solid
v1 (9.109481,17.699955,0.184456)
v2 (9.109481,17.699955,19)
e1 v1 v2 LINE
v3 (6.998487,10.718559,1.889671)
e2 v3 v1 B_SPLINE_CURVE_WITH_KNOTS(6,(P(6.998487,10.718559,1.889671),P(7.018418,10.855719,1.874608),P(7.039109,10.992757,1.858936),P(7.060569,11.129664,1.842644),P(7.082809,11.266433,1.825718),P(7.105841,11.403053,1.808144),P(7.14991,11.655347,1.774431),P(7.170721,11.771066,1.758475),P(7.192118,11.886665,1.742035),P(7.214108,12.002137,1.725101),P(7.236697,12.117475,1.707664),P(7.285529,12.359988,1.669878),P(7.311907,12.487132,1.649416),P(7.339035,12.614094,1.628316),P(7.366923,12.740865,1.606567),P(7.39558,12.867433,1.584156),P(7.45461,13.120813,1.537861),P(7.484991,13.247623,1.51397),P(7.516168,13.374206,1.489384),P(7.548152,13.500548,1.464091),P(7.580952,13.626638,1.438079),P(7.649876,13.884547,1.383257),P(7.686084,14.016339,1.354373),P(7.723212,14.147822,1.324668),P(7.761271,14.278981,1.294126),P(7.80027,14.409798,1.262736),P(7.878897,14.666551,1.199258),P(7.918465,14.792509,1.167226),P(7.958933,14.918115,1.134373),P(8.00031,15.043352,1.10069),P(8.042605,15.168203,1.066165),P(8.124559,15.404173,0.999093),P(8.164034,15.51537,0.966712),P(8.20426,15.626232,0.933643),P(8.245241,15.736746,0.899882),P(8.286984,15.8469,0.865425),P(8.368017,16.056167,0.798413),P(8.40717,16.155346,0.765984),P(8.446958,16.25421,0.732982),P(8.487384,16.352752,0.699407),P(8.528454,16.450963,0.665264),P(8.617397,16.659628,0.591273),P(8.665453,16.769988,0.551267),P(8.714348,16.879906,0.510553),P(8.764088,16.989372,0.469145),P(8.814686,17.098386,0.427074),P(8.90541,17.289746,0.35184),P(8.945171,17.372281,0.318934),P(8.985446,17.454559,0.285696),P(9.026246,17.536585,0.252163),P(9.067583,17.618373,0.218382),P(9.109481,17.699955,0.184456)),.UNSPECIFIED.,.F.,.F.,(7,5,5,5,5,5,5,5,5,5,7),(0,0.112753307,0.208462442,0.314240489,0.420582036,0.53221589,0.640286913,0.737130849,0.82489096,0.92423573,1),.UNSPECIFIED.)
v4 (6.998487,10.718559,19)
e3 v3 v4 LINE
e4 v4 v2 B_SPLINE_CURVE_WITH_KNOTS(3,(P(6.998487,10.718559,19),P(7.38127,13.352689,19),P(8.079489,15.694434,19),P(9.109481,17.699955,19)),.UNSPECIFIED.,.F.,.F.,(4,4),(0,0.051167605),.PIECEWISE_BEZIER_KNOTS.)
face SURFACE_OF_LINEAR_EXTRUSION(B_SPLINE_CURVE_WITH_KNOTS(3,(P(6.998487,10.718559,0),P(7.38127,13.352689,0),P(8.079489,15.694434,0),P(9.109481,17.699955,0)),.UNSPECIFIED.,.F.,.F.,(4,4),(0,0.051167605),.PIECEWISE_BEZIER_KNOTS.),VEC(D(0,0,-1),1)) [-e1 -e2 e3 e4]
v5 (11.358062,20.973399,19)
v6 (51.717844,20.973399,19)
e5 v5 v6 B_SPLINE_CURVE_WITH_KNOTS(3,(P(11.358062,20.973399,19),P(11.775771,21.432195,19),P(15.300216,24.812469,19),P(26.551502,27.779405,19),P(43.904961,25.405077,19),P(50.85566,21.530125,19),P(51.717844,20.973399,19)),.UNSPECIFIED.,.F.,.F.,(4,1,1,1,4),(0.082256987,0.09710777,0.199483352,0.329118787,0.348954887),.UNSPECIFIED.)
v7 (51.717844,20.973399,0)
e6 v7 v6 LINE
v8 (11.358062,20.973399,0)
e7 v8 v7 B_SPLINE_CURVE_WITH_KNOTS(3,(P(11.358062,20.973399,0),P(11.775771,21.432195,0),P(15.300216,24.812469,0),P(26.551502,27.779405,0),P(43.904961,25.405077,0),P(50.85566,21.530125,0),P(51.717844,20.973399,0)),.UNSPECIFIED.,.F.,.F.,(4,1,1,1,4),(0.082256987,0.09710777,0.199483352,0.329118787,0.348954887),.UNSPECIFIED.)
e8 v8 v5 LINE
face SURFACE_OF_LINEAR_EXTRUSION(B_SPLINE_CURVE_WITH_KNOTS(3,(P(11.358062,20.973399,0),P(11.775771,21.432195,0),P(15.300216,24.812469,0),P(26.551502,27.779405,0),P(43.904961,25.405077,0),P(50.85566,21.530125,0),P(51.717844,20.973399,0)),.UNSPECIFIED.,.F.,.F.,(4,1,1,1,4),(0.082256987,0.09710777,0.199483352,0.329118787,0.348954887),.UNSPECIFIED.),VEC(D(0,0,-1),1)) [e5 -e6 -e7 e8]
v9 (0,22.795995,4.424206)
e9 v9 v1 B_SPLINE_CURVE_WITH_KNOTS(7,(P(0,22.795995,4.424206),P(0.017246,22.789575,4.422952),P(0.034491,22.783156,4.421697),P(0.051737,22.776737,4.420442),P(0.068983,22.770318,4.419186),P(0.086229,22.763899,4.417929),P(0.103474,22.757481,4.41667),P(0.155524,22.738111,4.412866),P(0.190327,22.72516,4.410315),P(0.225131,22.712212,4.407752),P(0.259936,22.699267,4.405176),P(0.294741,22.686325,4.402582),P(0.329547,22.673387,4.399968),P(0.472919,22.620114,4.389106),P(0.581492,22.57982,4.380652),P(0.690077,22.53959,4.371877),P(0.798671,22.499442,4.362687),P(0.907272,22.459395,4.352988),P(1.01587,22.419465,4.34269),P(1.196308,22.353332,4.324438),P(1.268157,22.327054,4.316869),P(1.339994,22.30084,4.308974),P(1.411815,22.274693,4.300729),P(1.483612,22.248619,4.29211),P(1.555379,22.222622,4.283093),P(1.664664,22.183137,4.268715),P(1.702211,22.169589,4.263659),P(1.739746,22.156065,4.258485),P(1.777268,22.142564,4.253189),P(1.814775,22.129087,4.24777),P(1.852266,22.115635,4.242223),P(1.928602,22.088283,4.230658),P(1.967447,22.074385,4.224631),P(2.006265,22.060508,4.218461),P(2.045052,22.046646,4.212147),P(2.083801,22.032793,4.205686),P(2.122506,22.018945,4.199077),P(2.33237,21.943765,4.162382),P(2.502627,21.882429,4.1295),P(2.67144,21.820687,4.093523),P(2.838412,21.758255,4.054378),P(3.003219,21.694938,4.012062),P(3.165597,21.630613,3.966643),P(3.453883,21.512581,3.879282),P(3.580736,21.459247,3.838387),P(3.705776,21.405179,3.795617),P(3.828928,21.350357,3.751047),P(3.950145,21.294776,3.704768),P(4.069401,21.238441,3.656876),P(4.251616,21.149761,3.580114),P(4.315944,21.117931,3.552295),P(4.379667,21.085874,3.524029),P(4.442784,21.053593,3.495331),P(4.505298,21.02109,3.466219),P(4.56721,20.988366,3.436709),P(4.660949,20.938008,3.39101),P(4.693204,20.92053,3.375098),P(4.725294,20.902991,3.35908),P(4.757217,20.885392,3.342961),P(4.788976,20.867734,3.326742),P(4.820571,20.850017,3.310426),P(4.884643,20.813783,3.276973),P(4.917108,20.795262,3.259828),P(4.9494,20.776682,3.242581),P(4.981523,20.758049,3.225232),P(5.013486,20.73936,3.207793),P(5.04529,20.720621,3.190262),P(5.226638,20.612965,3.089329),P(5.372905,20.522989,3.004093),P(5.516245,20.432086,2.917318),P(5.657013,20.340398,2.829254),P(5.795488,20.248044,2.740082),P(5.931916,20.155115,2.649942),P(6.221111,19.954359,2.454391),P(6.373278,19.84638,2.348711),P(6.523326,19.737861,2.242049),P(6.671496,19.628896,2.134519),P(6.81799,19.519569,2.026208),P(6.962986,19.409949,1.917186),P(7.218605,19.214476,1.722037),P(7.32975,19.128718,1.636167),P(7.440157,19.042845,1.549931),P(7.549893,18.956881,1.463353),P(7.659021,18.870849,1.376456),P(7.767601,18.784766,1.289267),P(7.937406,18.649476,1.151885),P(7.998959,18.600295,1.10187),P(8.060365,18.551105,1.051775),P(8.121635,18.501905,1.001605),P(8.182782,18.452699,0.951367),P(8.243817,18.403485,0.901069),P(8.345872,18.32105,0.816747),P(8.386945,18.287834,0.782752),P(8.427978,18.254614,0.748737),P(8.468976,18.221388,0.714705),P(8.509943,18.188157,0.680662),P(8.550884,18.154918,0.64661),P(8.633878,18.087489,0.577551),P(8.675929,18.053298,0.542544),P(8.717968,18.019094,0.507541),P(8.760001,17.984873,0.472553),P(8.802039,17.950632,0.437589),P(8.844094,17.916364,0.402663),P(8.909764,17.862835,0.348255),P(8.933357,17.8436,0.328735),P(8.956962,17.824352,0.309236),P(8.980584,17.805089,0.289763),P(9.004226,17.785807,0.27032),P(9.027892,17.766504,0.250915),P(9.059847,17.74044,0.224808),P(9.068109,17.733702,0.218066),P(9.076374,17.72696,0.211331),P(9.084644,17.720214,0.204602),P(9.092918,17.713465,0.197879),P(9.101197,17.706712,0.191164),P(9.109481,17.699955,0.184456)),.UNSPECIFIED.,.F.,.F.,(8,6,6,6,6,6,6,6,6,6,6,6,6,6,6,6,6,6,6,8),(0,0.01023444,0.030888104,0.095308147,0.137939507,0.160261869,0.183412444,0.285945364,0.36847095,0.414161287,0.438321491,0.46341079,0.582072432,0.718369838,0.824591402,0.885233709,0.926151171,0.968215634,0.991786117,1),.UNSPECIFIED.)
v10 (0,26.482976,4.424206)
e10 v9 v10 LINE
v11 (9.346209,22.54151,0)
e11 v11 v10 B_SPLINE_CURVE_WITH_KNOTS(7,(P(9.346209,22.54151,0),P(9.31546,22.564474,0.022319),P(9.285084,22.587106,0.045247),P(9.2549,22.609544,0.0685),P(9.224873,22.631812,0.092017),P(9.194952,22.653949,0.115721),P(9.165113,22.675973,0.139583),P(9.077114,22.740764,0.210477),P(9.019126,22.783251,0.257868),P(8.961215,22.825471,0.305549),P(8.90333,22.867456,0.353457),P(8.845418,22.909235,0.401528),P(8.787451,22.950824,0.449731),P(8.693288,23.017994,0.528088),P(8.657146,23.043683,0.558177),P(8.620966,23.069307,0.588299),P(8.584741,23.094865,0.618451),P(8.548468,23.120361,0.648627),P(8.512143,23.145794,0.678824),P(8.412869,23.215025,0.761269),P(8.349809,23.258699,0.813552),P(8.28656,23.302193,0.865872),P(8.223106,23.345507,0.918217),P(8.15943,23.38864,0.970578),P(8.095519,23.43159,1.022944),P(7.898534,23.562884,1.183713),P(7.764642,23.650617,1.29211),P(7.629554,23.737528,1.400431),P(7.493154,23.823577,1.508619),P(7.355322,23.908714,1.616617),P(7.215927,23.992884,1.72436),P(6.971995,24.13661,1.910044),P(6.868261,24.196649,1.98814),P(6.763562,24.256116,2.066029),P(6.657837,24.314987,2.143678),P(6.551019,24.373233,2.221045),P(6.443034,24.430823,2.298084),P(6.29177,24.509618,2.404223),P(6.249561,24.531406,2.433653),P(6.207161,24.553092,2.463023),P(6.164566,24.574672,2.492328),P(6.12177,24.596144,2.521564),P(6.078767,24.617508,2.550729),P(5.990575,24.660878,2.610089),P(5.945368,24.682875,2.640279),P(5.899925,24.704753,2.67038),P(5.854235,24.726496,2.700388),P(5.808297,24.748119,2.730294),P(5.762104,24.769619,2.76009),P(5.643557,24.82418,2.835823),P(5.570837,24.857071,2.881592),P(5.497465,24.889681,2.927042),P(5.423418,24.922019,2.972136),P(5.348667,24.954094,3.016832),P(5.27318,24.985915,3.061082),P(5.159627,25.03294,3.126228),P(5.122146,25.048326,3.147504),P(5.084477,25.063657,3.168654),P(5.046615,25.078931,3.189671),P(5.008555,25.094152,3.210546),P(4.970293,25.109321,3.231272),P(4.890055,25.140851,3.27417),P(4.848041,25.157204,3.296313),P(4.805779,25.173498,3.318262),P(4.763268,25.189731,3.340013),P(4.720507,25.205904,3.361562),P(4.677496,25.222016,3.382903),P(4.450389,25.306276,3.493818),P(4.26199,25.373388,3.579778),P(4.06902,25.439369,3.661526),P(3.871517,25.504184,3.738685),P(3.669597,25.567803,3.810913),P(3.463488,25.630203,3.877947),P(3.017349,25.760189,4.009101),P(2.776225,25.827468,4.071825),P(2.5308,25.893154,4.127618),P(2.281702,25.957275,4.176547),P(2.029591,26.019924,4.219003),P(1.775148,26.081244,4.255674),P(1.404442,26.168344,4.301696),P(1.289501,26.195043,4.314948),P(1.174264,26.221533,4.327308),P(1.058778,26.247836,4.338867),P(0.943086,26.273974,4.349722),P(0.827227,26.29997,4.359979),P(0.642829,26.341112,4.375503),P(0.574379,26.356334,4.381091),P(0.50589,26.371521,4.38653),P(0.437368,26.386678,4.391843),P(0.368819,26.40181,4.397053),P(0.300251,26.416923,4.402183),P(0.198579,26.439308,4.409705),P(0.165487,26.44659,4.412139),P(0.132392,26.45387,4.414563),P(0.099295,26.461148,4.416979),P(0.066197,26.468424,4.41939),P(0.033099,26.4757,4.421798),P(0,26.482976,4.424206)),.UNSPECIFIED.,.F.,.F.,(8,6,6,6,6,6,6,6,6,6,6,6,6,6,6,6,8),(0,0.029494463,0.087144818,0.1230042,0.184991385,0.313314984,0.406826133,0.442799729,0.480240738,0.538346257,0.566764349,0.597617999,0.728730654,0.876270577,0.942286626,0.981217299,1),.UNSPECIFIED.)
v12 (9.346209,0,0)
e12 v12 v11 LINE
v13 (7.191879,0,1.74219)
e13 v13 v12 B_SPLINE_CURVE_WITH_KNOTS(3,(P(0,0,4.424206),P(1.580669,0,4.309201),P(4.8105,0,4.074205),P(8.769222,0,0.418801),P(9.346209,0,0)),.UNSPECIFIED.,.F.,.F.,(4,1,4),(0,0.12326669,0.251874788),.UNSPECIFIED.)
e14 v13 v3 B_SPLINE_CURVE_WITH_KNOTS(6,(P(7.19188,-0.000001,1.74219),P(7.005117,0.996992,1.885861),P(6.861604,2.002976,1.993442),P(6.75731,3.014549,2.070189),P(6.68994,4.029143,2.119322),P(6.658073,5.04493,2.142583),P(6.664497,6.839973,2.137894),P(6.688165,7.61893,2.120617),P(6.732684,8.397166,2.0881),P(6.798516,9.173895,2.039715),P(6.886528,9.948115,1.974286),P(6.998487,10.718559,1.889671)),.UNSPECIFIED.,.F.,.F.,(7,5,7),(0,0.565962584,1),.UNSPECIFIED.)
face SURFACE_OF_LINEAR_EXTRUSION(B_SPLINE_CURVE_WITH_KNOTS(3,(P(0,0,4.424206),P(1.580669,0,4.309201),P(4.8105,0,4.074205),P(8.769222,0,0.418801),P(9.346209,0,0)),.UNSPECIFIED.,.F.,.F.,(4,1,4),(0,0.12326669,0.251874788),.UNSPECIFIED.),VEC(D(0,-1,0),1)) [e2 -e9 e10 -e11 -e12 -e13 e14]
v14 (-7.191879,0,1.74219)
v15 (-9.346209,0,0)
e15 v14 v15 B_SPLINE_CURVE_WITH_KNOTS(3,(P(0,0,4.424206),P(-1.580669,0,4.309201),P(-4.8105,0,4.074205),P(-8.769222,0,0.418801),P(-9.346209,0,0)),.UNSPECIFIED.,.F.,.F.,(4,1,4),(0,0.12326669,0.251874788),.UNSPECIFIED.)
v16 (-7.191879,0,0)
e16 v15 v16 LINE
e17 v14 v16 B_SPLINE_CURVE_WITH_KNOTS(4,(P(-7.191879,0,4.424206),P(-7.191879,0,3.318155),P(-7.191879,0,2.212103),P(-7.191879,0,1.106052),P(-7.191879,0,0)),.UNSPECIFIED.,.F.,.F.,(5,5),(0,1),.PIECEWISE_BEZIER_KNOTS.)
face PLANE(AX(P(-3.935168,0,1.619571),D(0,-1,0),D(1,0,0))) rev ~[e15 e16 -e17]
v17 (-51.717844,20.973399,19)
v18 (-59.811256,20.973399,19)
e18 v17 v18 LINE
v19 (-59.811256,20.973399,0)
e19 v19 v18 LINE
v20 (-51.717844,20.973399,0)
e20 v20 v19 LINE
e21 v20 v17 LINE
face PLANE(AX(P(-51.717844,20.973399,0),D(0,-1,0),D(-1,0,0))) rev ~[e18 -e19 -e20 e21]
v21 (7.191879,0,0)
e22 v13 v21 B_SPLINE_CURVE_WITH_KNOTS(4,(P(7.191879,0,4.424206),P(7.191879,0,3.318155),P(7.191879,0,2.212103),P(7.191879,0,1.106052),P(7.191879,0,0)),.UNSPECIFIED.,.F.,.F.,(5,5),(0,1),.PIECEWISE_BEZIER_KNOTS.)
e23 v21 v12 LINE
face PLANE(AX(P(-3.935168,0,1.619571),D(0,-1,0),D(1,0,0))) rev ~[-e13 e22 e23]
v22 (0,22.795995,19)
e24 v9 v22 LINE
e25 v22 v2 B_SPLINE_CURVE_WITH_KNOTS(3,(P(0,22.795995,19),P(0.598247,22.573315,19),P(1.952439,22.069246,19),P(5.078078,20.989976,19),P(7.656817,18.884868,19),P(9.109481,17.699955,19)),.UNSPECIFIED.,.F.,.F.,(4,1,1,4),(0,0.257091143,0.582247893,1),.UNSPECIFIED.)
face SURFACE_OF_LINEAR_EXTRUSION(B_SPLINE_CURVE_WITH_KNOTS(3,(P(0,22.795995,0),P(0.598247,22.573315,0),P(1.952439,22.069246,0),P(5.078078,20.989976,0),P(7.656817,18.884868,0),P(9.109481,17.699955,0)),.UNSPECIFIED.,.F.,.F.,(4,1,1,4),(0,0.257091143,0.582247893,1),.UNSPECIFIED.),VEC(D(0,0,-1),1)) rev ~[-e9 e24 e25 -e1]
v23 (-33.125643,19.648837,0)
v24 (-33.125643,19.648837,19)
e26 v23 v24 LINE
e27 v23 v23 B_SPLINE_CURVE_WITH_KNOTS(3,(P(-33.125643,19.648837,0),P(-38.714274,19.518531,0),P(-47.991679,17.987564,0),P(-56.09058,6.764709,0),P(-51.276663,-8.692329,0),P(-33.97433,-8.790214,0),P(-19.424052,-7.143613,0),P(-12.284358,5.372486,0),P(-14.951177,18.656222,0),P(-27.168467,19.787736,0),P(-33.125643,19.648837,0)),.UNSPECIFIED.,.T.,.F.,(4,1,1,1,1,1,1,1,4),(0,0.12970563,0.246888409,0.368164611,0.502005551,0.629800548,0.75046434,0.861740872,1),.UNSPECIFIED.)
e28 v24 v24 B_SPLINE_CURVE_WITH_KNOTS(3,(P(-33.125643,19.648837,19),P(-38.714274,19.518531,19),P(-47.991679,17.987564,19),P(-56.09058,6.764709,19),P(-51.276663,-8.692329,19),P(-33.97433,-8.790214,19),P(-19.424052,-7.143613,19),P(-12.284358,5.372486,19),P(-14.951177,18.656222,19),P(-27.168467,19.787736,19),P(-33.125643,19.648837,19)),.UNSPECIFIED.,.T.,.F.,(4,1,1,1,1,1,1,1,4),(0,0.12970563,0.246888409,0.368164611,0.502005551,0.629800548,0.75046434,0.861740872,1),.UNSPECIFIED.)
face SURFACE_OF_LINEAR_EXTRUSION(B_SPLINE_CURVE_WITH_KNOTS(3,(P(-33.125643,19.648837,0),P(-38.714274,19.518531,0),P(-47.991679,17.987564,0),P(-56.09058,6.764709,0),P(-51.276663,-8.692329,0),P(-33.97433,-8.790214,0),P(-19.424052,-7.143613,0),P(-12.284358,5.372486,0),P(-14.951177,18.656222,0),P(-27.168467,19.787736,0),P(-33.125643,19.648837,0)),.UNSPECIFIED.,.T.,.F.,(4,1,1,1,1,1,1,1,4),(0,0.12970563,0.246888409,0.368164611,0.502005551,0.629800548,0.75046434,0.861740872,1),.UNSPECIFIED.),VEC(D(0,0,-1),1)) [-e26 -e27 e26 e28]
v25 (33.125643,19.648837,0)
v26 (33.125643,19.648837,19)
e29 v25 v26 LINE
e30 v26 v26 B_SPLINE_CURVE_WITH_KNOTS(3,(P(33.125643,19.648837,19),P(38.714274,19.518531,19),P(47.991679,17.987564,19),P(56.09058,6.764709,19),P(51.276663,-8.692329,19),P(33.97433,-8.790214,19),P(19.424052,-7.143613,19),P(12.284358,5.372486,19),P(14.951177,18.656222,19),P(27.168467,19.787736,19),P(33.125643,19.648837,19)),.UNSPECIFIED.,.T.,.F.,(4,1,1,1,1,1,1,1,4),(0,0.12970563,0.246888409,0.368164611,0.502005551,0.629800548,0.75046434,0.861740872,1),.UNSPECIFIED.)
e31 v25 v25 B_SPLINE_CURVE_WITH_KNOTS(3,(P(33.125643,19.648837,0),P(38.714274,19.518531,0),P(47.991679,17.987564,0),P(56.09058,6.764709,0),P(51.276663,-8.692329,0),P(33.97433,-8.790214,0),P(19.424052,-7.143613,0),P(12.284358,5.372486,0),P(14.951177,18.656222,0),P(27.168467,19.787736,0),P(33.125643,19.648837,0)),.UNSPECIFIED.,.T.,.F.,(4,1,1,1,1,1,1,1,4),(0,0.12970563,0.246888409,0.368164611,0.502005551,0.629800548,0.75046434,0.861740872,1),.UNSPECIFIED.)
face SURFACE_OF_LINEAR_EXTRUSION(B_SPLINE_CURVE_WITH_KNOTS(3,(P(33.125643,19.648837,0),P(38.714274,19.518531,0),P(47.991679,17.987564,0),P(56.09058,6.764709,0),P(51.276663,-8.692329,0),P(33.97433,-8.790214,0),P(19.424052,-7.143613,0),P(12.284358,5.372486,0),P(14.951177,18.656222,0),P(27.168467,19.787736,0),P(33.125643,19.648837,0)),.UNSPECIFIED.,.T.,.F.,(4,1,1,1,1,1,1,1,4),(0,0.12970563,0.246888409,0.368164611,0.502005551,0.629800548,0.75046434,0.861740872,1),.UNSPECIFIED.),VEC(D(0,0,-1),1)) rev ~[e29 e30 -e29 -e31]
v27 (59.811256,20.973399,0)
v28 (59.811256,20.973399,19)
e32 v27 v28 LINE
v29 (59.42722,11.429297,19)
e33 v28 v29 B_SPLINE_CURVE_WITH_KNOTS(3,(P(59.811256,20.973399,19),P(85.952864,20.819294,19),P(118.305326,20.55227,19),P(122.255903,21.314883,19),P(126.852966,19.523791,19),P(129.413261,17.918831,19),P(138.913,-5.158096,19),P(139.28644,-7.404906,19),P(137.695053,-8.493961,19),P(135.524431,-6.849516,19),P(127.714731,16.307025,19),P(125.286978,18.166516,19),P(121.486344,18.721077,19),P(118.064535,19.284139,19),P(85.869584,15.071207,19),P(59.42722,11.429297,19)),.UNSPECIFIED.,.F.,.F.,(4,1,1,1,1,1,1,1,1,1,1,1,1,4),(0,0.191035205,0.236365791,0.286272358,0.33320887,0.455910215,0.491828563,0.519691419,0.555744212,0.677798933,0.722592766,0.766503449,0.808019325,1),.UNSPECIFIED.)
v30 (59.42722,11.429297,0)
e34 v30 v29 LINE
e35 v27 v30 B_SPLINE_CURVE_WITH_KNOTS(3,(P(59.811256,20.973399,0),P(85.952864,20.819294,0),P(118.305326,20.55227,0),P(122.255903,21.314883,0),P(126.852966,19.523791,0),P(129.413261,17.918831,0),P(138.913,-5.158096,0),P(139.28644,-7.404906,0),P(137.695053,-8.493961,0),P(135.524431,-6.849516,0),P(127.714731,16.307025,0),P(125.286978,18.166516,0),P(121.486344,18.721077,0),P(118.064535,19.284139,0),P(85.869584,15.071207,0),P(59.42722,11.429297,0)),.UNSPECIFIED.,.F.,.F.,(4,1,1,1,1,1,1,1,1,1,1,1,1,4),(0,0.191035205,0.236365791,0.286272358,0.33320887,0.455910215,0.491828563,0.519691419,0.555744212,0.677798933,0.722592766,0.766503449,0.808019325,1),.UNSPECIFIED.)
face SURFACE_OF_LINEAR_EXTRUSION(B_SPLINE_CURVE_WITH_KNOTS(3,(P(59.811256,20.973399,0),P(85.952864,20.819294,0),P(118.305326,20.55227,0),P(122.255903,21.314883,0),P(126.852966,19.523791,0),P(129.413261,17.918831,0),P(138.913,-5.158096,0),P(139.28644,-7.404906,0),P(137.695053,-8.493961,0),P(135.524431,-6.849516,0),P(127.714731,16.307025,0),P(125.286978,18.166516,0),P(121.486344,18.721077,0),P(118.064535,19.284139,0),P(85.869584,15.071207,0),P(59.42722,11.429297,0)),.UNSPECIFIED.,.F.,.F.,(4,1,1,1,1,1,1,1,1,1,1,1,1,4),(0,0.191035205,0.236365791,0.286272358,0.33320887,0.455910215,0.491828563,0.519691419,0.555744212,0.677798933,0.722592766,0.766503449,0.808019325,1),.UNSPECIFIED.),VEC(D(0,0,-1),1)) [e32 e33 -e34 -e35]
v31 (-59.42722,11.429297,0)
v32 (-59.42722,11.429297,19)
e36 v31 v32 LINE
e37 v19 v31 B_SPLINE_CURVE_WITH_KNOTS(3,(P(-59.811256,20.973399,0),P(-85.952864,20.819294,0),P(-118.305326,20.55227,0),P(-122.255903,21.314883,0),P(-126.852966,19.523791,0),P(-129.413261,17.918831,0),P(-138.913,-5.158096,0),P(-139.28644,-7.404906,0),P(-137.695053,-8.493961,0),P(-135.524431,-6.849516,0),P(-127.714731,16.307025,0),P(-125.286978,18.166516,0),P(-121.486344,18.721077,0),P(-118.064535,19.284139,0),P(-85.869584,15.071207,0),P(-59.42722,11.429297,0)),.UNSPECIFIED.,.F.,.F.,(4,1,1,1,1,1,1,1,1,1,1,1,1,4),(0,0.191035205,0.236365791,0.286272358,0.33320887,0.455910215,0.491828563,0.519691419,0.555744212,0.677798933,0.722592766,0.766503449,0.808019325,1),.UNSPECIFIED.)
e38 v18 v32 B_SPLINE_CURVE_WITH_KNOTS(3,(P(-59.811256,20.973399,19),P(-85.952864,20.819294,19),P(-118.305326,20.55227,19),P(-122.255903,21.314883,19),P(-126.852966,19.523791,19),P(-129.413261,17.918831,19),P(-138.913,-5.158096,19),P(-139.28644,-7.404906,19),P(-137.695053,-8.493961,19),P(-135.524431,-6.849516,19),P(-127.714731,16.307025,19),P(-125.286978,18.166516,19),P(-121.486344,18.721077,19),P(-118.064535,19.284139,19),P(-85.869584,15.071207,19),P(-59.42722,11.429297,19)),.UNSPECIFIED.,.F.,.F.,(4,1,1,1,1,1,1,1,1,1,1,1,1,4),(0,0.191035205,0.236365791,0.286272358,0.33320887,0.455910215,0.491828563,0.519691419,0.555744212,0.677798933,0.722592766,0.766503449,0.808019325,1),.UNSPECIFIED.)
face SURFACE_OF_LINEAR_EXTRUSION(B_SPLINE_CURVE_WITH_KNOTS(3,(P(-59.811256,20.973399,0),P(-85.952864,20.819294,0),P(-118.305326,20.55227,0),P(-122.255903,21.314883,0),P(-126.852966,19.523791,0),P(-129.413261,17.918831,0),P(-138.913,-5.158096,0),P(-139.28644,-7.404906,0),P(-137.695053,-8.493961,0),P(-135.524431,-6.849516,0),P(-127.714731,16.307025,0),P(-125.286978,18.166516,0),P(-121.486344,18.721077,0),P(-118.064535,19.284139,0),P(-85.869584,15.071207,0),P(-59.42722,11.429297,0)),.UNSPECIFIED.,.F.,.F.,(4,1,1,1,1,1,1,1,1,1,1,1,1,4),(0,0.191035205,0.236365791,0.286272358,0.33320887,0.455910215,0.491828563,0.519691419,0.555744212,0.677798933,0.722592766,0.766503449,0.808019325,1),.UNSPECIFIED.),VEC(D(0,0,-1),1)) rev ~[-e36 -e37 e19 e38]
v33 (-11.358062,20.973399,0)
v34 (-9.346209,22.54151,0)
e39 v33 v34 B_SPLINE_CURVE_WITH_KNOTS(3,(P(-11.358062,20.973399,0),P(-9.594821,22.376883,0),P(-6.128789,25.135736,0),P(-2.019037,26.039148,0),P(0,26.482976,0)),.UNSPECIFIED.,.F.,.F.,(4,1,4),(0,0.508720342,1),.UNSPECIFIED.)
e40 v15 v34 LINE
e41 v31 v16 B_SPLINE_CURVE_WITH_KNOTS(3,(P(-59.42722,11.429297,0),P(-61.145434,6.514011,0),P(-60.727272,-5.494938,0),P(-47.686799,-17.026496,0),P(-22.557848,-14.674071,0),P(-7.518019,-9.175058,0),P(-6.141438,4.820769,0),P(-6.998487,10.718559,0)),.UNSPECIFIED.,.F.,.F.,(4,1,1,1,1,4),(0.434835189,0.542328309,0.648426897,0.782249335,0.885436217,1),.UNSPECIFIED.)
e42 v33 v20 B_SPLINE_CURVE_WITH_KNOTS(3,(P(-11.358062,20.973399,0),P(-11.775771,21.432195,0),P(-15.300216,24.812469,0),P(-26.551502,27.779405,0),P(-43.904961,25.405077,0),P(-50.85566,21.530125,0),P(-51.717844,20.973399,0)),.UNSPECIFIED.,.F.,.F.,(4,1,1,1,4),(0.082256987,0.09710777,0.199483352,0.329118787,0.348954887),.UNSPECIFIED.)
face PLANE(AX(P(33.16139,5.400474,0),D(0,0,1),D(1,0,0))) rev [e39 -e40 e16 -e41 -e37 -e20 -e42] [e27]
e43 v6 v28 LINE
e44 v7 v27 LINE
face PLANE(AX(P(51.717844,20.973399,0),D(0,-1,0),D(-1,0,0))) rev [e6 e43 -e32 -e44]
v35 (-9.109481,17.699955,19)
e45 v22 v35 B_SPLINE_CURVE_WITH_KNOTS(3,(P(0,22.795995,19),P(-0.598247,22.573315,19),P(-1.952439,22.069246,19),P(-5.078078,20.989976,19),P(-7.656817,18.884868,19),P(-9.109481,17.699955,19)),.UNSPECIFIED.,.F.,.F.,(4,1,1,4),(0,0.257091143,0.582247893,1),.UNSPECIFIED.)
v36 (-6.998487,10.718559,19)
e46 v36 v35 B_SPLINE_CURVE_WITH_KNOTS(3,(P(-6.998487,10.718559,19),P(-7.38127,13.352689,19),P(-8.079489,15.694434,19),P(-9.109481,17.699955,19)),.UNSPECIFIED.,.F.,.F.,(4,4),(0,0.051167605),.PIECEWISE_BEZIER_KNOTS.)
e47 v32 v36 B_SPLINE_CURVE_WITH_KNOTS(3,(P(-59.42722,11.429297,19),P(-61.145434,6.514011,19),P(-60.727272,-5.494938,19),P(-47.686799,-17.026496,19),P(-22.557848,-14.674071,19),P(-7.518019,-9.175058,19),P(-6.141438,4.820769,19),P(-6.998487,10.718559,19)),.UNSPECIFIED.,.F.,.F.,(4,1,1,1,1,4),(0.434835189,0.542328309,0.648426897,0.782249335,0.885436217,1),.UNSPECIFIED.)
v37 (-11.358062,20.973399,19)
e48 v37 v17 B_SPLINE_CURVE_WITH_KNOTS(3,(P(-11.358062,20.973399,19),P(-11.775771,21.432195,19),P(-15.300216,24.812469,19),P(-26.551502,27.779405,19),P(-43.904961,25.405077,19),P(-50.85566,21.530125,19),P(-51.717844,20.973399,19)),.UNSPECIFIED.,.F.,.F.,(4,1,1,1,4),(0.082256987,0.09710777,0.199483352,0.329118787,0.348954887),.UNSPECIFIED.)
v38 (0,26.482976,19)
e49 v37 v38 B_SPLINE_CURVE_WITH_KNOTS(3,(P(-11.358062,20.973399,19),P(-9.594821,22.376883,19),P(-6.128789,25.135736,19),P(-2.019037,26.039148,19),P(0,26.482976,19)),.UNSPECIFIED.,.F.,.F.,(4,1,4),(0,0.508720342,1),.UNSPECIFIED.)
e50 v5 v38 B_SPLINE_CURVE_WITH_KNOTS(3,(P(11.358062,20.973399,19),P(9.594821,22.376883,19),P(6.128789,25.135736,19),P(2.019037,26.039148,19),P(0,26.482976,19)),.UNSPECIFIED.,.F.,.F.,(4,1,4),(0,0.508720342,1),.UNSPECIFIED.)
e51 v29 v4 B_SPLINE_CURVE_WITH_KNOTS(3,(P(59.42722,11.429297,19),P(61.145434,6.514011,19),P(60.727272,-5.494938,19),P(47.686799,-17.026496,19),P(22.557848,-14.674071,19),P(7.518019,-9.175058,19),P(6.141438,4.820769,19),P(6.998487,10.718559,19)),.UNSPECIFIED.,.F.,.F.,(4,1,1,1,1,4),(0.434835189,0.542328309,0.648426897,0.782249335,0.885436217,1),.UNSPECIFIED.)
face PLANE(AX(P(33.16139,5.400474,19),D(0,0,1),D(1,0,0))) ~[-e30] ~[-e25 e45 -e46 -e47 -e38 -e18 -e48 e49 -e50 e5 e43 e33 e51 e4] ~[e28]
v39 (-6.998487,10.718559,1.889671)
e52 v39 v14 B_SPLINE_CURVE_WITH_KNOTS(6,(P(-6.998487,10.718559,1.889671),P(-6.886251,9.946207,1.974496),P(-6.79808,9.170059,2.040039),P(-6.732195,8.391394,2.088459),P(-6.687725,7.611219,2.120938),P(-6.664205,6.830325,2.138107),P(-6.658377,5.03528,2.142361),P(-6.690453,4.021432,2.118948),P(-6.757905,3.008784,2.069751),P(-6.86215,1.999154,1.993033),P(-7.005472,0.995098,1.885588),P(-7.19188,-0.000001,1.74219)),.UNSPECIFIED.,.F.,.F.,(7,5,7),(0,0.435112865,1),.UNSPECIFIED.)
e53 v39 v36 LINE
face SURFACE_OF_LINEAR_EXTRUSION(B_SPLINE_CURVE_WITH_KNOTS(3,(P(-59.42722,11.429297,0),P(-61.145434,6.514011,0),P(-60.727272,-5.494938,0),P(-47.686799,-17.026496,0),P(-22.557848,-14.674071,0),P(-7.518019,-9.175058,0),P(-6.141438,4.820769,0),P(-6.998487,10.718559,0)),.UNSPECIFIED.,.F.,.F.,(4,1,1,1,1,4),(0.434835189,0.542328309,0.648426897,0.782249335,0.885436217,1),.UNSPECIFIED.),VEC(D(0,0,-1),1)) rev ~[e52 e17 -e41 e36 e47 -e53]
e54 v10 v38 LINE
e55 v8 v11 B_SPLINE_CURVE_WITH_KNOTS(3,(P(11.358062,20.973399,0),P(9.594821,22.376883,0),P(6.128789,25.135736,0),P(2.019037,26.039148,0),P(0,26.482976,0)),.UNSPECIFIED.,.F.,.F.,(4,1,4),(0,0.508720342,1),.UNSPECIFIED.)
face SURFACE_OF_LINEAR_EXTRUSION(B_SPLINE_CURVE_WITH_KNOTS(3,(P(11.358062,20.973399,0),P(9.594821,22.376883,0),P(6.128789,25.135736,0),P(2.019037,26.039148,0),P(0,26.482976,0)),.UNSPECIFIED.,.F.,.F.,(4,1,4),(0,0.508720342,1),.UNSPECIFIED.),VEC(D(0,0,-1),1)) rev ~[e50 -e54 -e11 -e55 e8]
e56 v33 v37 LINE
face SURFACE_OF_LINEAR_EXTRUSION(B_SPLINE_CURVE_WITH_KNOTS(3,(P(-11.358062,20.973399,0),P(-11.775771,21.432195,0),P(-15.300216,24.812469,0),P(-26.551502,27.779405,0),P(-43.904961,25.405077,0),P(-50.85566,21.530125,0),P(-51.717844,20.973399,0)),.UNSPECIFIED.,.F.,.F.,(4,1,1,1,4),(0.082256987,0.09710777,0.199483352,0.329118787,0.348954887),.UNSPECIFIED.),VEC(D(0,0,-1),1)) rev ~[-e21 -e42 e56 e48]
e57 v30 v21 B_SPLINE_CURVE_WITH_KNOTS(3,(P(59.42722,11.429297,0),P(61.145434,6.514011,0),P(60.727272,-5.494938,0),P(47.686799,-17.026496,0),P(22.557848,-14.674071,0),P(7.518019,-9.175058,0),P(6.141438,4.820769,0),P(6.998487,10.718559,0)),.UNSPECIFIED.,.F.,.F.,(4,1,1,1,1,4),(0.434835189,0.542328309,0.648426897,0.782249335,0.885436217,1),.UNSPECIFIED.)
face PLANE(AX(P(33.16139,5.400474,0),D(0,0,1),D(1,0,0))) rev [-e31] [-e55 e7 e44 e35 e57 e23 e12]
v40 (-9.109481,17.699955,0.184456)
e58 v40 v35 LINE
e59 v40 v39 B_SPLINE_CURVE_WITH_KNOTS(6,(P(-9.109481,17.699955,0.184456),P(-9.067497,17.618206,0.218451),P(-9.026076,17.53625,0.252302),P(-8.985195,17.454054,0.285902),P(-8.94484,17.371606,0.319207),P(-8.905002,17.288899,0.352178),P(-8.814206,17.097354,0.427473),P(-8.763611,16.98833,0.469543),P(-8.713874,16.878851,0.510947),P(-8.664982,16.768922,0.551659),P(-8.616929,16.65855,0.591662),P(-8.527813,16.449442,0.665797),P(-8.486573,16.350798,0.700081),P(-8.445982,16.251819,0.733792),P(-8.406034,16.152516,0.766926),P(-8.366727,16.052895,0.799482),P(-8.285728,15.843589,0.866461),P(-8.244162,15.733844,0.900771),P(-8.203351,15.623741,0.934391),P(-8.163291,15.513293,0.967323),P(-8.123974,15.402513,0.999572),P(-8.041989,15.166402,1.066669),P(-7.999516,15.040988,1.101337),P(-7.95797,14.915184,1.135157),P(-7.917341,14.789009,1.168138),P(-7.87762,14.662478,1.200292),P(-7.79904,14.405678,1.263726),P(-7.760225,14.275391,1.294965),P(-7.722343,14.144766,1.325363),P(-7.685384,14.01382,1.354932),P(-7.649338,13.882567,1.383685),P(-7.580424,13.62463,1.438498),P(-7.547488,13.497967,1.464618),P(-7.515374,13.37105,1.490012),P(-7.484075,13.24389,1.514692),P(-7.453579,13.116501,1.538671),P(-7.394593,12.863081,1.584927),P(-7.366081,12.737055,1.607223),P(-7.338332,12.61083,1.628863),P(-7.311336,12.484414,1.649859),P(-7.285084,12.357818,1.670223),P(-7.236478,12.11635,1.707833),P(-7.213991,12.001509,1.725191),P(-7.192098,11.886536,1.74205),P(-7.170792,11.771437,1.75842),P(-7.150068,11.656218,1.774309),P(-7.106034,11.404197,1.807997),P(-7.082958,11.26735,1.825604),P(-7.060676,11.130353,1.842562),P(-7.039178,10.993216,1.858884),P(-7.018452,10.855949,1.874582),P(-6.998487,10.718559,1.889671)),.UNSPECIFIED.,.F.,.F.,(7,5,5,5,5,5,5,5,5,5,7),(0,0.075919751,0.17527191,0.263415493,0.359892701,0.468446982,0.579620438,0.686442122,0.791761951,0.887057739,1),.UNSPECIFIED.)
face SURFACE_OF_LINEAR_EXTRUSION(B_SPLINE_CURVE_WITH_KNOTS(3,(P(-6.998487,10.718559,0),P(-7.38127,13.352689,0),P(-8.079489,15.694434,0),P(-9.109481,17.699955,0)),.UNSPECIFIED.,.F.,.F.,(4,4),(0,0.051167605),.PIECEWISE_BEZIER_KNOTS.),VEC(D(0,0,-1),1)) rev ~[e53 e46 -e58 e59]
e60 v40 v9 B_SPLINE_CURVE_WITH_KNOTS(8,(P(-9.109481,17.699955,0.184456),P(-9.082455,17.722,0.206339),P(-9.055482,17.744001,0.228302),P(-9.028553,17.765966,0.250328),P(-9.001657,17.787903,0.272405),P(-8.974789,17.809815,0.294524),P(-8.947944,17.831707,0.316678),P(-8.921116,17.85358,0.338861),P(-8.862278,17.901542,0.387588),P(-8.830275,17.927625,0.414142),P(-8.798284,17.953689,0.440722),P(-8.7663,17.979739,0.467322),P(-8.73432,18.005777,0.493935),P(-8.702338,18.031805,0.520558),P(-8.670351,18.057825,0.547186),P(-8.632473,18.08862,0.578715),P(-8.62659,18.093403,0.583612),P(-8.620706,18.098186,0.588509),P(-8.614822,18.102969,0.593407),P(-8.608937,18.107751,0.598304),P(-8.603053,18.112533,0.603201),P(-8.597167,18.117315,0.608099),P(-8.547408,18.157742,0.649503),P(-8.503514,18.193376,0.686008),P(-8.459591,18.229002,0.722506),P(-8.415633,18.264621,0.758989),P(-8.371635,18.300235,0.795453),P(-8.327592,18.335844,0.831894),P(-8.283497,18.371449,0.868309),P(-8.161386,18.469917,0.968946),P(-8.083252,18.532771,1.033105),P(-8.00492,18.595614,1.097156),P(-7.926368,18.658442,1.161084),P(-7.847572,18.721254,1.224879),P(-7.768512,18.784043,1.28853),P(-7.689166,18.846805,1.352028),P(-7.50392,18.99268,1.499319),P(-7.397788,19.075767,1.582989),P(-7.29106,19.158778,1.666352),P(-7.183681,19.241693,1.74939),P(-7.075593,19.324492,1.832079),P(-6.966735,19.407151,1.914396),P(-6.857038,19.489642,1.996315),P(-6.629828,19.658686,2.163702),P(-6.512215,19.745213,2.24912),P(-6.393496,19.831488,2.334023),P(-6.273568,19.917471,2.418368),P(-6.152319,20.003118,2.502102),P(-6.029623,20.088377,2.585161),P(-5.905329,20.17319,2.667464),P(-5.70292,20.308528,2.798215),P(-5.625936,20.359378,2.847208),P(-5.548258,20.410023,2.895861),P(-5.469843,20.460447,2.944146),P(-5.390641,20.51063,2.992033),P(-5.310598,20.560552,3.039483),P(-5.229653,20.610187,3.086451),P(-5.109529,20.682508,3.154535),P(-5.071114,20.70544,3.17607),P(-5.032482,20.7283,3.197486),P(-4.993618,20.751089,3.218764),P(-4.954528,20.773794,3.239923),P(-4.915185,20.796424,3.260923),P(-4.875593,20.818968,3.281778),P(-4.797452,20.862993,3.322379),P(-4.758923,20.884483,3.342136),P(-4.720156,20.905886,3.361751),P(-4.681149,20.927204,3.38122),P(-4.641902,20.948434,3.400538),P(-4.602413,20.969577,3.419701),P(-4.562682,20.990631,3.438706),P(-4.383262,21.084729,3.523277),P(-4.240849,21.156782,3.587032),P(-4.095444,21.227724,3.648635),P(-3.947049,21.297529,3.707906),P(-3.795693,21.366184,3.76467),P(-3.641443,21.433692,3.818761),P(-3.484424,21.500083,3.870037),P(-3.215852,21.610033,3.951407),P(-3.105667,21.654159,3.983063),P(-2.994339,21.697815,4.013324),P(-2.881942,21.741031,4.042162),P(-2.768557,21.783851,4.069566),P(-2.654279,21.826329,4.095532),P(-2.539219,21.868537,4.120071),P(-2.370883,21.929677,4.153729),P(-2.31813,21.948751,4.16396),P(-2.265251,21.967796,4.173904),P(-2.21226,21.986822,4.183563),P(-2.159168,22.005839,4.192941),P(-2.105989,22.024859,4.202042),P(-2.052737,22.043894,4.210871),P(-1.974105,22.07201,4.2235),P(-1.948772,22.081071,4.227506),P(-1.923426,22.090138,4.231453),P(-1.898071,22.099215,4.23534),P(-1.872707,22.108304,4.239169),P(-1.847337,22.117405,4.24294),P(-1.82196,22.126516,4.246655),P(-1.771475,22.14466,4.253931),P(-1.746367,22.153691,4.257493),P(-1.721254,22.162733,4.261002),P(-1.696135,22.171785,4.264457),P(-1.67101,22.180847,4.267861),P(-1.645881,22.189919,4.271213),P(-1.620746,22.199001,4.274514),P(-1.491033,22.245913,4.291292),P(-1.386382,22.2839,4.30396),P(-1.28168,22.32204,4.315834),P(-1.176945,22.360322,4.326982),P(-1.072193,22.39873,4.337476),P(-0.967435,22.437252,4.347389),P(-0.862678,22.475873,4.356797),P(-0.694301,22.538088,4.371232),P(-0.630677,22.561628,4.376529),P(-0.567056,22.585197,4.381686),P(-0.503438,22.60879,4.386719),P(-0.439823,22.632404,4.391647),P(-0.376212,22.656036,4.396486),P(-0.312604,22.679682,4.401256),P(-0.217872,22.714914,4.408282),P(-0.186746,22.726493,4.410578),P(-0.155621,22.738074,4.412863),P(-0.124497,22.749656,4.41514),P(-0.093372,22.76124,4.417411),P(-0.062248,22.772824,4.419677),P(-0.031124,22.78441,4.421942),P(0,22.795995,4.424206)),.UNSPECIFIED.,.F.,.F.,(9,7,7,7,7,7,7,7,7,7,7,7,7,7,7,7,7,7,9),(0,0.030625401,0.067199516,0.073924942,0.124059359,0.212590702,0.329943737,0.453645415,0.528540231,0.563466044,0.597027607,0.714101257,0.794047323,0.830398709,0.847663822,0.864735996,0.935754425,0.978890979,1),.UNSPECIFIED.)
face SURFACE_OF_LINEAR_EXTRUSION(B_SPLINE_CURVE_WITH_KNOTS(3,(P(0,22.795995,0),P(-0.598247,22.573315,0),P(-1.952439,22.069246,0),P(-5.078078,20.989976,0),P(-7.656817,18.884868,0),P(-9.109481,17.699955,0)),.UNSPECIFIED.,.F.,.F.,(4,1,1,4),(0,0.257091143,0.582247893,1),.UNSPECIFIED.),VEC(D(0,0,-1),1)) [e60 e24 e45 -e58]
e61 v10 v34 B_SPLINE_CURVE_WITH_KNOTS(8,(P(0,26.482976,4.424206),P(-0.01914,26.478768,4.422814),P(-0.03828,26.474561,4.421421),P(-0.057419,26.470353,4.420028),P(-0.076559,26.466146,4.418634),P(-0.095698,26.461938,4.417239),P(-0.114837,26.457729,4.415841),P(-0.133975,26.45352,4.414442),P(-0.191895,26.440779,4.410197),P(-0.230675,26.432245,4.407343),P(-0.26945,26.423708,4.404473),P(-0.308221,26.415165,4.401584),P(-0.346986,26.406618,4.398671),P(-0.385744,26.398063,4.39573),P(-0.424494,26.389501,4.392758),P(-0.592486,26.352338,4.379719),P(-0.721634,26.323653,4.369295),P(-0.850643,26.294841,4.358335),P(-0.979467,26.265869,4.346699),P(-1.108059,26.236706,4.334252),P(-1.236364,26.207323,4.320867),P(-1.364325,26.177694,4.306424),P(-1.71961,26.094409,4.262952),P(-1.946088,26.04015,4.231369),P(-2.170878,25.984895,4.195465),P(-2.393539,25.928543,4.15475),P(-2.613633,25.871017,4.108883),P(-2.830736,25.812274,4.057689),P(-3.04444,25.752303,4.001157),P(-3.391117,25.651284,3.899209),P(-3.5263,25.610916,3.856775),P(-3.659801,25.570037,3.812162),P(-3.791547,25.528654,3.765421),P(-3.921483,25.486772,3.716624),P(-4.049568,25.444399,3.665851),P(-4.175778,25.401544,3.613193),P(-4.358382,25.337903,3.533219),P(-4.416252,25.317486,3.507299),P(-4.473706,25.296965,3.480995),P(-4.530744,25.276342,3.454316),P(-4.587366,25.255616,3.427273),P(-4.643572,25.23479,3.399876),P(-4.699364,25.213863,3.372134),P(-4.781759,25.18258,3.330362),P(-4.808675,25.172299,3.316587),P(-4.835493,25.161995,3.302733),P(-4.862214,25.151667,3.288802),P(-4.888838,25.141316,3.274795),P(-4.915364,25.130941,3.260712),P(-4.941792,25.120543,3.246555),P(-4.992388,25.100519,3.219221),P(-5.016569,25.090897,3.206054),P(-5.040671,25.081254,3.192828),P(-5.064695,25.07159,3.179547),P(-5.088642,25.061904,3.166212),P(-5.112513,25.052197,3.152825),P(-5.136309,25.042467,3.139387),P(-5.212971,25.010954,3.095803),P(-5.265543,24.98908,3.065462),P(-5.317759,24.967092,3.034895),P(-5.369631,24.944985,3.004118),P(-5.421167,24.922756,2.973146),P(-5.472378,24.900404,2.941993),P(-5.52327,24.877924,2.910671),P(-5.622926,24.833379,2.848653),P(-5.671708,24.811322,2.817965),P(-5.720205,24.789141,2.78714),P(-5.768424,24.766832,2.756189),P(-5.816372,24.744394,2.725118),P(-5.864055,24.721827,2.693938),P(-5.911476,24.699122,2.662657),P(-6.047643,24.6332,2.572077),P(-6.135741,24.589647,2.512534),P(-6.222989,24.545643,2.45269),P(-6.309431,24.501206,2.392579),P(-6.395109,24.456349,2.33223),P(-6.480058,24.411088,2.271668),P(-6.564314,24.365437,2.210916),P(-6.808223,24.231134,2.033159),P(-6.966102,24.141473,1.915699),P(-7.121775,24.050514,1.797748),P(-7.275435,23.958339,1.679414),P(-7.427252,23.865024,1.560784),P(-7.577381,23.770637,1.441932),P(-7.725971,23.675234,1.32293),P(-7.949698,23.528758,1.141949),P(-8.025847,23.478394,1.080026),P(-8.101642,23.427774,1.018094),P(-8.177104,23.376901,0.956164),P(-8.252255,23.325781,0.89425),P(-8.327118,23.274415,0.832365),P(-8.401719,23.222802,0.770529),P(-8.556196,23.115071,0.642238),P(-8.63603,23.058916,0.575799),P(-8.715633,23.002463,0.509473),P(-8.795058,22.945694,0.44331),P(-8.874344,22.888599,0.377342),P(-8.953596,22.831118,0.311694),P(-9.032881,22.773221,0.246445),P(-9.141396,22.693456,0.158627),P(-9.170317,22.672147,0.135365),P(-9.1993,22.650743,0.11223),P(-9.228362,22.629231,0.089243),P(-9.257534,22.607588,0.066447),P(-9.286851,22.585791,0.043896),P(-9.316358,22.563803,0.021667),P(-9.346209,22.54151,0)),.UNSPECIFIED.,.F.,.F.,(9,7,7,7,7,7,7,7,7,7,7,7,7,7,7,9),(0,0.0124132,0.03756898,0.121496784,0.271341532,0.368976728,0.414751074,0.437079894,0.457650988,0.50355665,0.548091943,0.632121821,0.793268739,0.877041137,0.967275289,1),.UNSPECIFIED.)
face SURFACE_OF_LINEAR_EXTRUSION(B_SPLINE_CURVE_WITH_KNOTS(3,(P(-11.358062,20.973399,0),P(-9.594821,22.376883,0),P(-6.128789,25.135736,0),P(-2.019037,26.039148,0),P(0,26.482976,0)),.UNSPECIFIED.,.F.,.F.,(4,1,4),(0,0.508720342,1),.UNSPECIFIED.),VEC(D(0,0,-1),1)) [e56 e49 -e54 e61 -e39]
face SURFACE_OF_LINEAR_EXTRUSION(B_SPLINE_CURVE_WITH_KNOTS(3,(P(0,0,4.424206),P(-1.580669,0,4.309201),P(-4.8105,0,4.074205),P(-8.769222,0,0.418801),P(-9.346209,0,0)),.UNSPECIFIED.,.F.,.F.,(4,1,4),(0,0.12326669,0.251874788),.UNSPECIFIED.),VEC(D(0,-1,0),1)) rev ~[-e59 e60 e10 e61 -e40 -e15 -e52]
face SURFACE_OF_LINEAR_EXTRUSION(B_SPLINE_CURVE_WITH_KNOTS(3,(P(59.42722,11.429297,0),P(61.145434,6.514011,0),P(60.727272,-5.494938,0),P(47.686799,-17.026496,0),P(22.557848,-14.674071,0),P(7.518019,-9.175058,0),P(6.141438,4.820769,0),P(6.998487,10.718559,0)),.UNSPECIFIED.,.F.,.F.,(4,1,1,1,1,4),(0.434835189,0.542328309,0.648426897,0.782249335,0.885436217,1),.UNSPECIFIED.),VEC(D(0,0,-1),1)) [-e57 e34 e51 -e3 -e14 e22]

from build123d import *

# Parameters (mm, degrees)
F1_DEPTH = 19
F4_DEPTH = 83.3


with BuildPart() as f1:
    # F0 (on Top) → F1 (new body)
    with BuildSketch(Plane.XY):
        with BuildLine():
            add(Edge.make_bspline(
                [(-59.4272203743, 11.4292973631), (-61.1454339814, 6.5140114045), (-60.7272717332, -5.4949377823), (-47.686798993, -17.026496111), (-22.5578482567, -14.6740710377), (-7.5180185049, -9.1750576643), (-6.1414379788, 4.8207688713), (-6.9984868169, 10.7185594716)],
                knots=[0.4348351885, 0.4348351885, 0.4348351885, 0.4348351885, 0.5423283087, 0.6484268973, 0.7822493355, 0.885436217, 1, 1, 1, 1], degree=3))
            add(Edge.make_bspline(
                [(-6.9984868169, 10.7185594716), (-7.3812704117, 13.3526888082), (-8.0794890141, 15.6944338775), (-9.1094812328, 17.6999545574)],
                knots=[0, 0, 0, 0, 0.0511676053, 0.0511676053, 0.0511676053, 0.0511676053], degree=3))
            add(Edge.make_bspline(
                [(-9.1094812328, 17.6999545574), (-9.7353033854, 18.9185067426), (-10.4836085403, 20.012932805), (-11.3580616304, 20.973398914)],
                knots=[0.0511676053, 0.0511676053, 0.0511676053, 0.0511676053, 0.0822569867, 0.0822569867, 0.0822569867, 0.0822569867], degree=3))
            add(Edge.make_bspline(
                [(-11.3580616304, 20.973398914), (-11.7757705939, 21.4321945971), (-15.3002160154, 24.8124687784), (-26.5515018715, 27.7794052876), (-43.9049612216, 25.4050772544), (-50.8556601359, 21.5301246277), (-51.717843631, 20.973398914)],
                knots=[0.0822569867, 0.0822569867, 0.0822569867, 0.0822569867, 0.0971077699, 0.199483352, 0.3291187872, 0.348954887, 0.348954887, 0.348954887, 0.348954887], degree=3))
            add(Edge.make_bspline(
                [(-51.717843631, 20.973398914), (-55.4506630517, 18.5630575327), (-58.054474822, 15.3563044071), (-59.4272203743, 11.4292973631)],
                knots=[0.348954887, 0.348954887, 0.348954887, 0.348954887, 0.4348351885, 0.4348351885, 0.4348351885, 0.4348351885], degree=3))
        make_face()
        with BuildLine():
            add(Edge.make_bspline(
                [(-33.1256426871, 19.6488369256), (-38.7142739672, 19.5185311653), (-47.9916789369, 17.9875637478), (-56.0905801064, 6.7647092151), (-51.2766634125, -8.6923293167), (-33.9743303217, -8.7902143918), (-19.4240522565, -7.143613497), (-12.2843575562, 5.3724864241), (-14.9511770737, 18.6562220425), (-27.1684665135, 19.7877357601), (-33.1256426871, 19.6488369256)],
                knots=[0, 0, 0, 0, 0.1297056296, 0.246888409, 0.3681646108, 0.5020055508, 0.6298005482, 0.7504643397, 0.8617408723, 1, 1, 1, 1], degree=3))
        make_face(mode=Mode.SUBTRACT)
        with BuildLine():
            add(Edge.make_bspline(
                [(-9.1094812328, 17.6999545574), (-9.7353033854, 18.9185067426), (-10.4836085403, 20.012932805), (-11.3580616304, 20.973398914)],
                knots=[0.0511676053, 0.0511676053, 0.0511676053, 0.0511676053, 0.0822569867, 0.0822569867, 0.0822569867, 0.0822569867], degree=3))
            add(Edge.make_bspline(
                [(0, 22.7959945335), (-0.5982474549, 22.5733148538), (-1.9524393493, 22.0692463028), (-5.078078446, 20.9899764968), (-7.6568168056, 18.8848679539), (-9.1094812328, 17.6999545574)],
                knots=[0, 0, 0, 0, 0.257091143, 0.5822478927, 1, 1, 1, 1], degree=3))
            Line((0, 22.7959945335), (0, 26.4829756671))
            add(Edge.make_bspline(
                [(-11.3580616304, 20.973398914), (-9.5948206599, 22.3768833432), (-6.1287886888, 25.1357359242), (-2.0190372704, 26.0391477932), (0, 26.4829756671)],
                knots=[0, 0, 0, 0, 0.5087203422, 1, 1, 1, 1], degree=3))
        make_face()
        with BuildLine():
            add(Edge.make_bspline(
                [(-59.8112558122, 20.973398914), (-85.9528643477, 20.8192939673), (-118.3053261993, 20.5522696486), (-122.2559030527, 21.314883085), (-126.8529663816, 19.5237905806), (-129.4132605324, 17.9188311568), (-138.9129995596, -5.1580963104), (-139.2864402695, -7.4049060019), (-137.6950530204, -8.4939607834), (-135.524431032, -6.849515994), (-127.7147312209, 16.3070247811), (-125.2869779538, 18.1665162929), (-121.4863439191, 18.7210768886), (-118.0645353173, 19.2841391904), (-85.8695841136, 15.07120743), (-59.4272203743, 11.4292973631)],
                knots=[0, 0, 0, 0, 0.191035205, 0.2363657907, 0.2862723585, 0.3332088696, 0.4559102152, 0.4918285626, 0.5196914191, 0.5557442121, 0.6777989327, 0.722592766, 0.7665034488, 0.8080193249, 1, 1, 1, 1], degree=3))
            add(Edge.make_bspline(
                [(-51.717843631, 20.973398914), (-55.4506630517, 18.5630575327), (-58.054474822, 15.3563044071), (-59.4272203743, 11.4292973631)],
                knots=[0.348954887, 0.348954887, 0.348954887, 0.348954887, 0.4348351885, 0.4348351885, 0.4348351885, 0.4348351885], degree=3))
            Line((-51.717843631, 20.973398914), (-59.8112558122, 20.973398914))
        make_face()
    extrude(amount=F1_DEPTH)

    # F2: F1 across plane


with BuildPart() as f1_1:
    add(f1.part)
    add(f1.part.mirror(Plane.YZ))

    # F3 (on Front) → F4 (cut)
    with BuildSketch(Plane.XZ):
        with BuildLine():
            Line((-9.3462094665, 0), (0, 0))
            Line((0, 0), (0, 4.4242064469))
            add(Edge.make_bspline(
                [(0, 4.4242064469), (-1.5806688134, 4.3092005421), (-4.8105001932, 4.0742052813), (-8.7692216054, 0.4188013877), (-9.3462094665, 0)],
                knots=[0, 0, 0, 0, 0.1232666898, 0.2518747883, 0.2518747883, 0.2518747883, 0.2518747883], degree=3))
        make_face()
        with BuildLine():
            Line((0, 4.4242064469), (0, 0))
            Line((0, 0), (9.3462094665, 0))
            add(Edge.make_bspline(
                [(0, 4.4242064469), (1.5806688134, 4.3092005421), (4.8105001932, 4.0742052813), (8.7692216054, 0.4188013877), (9.3462094665, 0)],
                knots=[0, 0, 0, 0, 0.1232666898, 0.2518747883, 0.2518747883, 0.2518747883, 0.2518747883], degree=3))
        make_face()
    extrude(amount=-F4_DEPTH, mode=Mode.SUBTRACT)


solid = f1_1.part
